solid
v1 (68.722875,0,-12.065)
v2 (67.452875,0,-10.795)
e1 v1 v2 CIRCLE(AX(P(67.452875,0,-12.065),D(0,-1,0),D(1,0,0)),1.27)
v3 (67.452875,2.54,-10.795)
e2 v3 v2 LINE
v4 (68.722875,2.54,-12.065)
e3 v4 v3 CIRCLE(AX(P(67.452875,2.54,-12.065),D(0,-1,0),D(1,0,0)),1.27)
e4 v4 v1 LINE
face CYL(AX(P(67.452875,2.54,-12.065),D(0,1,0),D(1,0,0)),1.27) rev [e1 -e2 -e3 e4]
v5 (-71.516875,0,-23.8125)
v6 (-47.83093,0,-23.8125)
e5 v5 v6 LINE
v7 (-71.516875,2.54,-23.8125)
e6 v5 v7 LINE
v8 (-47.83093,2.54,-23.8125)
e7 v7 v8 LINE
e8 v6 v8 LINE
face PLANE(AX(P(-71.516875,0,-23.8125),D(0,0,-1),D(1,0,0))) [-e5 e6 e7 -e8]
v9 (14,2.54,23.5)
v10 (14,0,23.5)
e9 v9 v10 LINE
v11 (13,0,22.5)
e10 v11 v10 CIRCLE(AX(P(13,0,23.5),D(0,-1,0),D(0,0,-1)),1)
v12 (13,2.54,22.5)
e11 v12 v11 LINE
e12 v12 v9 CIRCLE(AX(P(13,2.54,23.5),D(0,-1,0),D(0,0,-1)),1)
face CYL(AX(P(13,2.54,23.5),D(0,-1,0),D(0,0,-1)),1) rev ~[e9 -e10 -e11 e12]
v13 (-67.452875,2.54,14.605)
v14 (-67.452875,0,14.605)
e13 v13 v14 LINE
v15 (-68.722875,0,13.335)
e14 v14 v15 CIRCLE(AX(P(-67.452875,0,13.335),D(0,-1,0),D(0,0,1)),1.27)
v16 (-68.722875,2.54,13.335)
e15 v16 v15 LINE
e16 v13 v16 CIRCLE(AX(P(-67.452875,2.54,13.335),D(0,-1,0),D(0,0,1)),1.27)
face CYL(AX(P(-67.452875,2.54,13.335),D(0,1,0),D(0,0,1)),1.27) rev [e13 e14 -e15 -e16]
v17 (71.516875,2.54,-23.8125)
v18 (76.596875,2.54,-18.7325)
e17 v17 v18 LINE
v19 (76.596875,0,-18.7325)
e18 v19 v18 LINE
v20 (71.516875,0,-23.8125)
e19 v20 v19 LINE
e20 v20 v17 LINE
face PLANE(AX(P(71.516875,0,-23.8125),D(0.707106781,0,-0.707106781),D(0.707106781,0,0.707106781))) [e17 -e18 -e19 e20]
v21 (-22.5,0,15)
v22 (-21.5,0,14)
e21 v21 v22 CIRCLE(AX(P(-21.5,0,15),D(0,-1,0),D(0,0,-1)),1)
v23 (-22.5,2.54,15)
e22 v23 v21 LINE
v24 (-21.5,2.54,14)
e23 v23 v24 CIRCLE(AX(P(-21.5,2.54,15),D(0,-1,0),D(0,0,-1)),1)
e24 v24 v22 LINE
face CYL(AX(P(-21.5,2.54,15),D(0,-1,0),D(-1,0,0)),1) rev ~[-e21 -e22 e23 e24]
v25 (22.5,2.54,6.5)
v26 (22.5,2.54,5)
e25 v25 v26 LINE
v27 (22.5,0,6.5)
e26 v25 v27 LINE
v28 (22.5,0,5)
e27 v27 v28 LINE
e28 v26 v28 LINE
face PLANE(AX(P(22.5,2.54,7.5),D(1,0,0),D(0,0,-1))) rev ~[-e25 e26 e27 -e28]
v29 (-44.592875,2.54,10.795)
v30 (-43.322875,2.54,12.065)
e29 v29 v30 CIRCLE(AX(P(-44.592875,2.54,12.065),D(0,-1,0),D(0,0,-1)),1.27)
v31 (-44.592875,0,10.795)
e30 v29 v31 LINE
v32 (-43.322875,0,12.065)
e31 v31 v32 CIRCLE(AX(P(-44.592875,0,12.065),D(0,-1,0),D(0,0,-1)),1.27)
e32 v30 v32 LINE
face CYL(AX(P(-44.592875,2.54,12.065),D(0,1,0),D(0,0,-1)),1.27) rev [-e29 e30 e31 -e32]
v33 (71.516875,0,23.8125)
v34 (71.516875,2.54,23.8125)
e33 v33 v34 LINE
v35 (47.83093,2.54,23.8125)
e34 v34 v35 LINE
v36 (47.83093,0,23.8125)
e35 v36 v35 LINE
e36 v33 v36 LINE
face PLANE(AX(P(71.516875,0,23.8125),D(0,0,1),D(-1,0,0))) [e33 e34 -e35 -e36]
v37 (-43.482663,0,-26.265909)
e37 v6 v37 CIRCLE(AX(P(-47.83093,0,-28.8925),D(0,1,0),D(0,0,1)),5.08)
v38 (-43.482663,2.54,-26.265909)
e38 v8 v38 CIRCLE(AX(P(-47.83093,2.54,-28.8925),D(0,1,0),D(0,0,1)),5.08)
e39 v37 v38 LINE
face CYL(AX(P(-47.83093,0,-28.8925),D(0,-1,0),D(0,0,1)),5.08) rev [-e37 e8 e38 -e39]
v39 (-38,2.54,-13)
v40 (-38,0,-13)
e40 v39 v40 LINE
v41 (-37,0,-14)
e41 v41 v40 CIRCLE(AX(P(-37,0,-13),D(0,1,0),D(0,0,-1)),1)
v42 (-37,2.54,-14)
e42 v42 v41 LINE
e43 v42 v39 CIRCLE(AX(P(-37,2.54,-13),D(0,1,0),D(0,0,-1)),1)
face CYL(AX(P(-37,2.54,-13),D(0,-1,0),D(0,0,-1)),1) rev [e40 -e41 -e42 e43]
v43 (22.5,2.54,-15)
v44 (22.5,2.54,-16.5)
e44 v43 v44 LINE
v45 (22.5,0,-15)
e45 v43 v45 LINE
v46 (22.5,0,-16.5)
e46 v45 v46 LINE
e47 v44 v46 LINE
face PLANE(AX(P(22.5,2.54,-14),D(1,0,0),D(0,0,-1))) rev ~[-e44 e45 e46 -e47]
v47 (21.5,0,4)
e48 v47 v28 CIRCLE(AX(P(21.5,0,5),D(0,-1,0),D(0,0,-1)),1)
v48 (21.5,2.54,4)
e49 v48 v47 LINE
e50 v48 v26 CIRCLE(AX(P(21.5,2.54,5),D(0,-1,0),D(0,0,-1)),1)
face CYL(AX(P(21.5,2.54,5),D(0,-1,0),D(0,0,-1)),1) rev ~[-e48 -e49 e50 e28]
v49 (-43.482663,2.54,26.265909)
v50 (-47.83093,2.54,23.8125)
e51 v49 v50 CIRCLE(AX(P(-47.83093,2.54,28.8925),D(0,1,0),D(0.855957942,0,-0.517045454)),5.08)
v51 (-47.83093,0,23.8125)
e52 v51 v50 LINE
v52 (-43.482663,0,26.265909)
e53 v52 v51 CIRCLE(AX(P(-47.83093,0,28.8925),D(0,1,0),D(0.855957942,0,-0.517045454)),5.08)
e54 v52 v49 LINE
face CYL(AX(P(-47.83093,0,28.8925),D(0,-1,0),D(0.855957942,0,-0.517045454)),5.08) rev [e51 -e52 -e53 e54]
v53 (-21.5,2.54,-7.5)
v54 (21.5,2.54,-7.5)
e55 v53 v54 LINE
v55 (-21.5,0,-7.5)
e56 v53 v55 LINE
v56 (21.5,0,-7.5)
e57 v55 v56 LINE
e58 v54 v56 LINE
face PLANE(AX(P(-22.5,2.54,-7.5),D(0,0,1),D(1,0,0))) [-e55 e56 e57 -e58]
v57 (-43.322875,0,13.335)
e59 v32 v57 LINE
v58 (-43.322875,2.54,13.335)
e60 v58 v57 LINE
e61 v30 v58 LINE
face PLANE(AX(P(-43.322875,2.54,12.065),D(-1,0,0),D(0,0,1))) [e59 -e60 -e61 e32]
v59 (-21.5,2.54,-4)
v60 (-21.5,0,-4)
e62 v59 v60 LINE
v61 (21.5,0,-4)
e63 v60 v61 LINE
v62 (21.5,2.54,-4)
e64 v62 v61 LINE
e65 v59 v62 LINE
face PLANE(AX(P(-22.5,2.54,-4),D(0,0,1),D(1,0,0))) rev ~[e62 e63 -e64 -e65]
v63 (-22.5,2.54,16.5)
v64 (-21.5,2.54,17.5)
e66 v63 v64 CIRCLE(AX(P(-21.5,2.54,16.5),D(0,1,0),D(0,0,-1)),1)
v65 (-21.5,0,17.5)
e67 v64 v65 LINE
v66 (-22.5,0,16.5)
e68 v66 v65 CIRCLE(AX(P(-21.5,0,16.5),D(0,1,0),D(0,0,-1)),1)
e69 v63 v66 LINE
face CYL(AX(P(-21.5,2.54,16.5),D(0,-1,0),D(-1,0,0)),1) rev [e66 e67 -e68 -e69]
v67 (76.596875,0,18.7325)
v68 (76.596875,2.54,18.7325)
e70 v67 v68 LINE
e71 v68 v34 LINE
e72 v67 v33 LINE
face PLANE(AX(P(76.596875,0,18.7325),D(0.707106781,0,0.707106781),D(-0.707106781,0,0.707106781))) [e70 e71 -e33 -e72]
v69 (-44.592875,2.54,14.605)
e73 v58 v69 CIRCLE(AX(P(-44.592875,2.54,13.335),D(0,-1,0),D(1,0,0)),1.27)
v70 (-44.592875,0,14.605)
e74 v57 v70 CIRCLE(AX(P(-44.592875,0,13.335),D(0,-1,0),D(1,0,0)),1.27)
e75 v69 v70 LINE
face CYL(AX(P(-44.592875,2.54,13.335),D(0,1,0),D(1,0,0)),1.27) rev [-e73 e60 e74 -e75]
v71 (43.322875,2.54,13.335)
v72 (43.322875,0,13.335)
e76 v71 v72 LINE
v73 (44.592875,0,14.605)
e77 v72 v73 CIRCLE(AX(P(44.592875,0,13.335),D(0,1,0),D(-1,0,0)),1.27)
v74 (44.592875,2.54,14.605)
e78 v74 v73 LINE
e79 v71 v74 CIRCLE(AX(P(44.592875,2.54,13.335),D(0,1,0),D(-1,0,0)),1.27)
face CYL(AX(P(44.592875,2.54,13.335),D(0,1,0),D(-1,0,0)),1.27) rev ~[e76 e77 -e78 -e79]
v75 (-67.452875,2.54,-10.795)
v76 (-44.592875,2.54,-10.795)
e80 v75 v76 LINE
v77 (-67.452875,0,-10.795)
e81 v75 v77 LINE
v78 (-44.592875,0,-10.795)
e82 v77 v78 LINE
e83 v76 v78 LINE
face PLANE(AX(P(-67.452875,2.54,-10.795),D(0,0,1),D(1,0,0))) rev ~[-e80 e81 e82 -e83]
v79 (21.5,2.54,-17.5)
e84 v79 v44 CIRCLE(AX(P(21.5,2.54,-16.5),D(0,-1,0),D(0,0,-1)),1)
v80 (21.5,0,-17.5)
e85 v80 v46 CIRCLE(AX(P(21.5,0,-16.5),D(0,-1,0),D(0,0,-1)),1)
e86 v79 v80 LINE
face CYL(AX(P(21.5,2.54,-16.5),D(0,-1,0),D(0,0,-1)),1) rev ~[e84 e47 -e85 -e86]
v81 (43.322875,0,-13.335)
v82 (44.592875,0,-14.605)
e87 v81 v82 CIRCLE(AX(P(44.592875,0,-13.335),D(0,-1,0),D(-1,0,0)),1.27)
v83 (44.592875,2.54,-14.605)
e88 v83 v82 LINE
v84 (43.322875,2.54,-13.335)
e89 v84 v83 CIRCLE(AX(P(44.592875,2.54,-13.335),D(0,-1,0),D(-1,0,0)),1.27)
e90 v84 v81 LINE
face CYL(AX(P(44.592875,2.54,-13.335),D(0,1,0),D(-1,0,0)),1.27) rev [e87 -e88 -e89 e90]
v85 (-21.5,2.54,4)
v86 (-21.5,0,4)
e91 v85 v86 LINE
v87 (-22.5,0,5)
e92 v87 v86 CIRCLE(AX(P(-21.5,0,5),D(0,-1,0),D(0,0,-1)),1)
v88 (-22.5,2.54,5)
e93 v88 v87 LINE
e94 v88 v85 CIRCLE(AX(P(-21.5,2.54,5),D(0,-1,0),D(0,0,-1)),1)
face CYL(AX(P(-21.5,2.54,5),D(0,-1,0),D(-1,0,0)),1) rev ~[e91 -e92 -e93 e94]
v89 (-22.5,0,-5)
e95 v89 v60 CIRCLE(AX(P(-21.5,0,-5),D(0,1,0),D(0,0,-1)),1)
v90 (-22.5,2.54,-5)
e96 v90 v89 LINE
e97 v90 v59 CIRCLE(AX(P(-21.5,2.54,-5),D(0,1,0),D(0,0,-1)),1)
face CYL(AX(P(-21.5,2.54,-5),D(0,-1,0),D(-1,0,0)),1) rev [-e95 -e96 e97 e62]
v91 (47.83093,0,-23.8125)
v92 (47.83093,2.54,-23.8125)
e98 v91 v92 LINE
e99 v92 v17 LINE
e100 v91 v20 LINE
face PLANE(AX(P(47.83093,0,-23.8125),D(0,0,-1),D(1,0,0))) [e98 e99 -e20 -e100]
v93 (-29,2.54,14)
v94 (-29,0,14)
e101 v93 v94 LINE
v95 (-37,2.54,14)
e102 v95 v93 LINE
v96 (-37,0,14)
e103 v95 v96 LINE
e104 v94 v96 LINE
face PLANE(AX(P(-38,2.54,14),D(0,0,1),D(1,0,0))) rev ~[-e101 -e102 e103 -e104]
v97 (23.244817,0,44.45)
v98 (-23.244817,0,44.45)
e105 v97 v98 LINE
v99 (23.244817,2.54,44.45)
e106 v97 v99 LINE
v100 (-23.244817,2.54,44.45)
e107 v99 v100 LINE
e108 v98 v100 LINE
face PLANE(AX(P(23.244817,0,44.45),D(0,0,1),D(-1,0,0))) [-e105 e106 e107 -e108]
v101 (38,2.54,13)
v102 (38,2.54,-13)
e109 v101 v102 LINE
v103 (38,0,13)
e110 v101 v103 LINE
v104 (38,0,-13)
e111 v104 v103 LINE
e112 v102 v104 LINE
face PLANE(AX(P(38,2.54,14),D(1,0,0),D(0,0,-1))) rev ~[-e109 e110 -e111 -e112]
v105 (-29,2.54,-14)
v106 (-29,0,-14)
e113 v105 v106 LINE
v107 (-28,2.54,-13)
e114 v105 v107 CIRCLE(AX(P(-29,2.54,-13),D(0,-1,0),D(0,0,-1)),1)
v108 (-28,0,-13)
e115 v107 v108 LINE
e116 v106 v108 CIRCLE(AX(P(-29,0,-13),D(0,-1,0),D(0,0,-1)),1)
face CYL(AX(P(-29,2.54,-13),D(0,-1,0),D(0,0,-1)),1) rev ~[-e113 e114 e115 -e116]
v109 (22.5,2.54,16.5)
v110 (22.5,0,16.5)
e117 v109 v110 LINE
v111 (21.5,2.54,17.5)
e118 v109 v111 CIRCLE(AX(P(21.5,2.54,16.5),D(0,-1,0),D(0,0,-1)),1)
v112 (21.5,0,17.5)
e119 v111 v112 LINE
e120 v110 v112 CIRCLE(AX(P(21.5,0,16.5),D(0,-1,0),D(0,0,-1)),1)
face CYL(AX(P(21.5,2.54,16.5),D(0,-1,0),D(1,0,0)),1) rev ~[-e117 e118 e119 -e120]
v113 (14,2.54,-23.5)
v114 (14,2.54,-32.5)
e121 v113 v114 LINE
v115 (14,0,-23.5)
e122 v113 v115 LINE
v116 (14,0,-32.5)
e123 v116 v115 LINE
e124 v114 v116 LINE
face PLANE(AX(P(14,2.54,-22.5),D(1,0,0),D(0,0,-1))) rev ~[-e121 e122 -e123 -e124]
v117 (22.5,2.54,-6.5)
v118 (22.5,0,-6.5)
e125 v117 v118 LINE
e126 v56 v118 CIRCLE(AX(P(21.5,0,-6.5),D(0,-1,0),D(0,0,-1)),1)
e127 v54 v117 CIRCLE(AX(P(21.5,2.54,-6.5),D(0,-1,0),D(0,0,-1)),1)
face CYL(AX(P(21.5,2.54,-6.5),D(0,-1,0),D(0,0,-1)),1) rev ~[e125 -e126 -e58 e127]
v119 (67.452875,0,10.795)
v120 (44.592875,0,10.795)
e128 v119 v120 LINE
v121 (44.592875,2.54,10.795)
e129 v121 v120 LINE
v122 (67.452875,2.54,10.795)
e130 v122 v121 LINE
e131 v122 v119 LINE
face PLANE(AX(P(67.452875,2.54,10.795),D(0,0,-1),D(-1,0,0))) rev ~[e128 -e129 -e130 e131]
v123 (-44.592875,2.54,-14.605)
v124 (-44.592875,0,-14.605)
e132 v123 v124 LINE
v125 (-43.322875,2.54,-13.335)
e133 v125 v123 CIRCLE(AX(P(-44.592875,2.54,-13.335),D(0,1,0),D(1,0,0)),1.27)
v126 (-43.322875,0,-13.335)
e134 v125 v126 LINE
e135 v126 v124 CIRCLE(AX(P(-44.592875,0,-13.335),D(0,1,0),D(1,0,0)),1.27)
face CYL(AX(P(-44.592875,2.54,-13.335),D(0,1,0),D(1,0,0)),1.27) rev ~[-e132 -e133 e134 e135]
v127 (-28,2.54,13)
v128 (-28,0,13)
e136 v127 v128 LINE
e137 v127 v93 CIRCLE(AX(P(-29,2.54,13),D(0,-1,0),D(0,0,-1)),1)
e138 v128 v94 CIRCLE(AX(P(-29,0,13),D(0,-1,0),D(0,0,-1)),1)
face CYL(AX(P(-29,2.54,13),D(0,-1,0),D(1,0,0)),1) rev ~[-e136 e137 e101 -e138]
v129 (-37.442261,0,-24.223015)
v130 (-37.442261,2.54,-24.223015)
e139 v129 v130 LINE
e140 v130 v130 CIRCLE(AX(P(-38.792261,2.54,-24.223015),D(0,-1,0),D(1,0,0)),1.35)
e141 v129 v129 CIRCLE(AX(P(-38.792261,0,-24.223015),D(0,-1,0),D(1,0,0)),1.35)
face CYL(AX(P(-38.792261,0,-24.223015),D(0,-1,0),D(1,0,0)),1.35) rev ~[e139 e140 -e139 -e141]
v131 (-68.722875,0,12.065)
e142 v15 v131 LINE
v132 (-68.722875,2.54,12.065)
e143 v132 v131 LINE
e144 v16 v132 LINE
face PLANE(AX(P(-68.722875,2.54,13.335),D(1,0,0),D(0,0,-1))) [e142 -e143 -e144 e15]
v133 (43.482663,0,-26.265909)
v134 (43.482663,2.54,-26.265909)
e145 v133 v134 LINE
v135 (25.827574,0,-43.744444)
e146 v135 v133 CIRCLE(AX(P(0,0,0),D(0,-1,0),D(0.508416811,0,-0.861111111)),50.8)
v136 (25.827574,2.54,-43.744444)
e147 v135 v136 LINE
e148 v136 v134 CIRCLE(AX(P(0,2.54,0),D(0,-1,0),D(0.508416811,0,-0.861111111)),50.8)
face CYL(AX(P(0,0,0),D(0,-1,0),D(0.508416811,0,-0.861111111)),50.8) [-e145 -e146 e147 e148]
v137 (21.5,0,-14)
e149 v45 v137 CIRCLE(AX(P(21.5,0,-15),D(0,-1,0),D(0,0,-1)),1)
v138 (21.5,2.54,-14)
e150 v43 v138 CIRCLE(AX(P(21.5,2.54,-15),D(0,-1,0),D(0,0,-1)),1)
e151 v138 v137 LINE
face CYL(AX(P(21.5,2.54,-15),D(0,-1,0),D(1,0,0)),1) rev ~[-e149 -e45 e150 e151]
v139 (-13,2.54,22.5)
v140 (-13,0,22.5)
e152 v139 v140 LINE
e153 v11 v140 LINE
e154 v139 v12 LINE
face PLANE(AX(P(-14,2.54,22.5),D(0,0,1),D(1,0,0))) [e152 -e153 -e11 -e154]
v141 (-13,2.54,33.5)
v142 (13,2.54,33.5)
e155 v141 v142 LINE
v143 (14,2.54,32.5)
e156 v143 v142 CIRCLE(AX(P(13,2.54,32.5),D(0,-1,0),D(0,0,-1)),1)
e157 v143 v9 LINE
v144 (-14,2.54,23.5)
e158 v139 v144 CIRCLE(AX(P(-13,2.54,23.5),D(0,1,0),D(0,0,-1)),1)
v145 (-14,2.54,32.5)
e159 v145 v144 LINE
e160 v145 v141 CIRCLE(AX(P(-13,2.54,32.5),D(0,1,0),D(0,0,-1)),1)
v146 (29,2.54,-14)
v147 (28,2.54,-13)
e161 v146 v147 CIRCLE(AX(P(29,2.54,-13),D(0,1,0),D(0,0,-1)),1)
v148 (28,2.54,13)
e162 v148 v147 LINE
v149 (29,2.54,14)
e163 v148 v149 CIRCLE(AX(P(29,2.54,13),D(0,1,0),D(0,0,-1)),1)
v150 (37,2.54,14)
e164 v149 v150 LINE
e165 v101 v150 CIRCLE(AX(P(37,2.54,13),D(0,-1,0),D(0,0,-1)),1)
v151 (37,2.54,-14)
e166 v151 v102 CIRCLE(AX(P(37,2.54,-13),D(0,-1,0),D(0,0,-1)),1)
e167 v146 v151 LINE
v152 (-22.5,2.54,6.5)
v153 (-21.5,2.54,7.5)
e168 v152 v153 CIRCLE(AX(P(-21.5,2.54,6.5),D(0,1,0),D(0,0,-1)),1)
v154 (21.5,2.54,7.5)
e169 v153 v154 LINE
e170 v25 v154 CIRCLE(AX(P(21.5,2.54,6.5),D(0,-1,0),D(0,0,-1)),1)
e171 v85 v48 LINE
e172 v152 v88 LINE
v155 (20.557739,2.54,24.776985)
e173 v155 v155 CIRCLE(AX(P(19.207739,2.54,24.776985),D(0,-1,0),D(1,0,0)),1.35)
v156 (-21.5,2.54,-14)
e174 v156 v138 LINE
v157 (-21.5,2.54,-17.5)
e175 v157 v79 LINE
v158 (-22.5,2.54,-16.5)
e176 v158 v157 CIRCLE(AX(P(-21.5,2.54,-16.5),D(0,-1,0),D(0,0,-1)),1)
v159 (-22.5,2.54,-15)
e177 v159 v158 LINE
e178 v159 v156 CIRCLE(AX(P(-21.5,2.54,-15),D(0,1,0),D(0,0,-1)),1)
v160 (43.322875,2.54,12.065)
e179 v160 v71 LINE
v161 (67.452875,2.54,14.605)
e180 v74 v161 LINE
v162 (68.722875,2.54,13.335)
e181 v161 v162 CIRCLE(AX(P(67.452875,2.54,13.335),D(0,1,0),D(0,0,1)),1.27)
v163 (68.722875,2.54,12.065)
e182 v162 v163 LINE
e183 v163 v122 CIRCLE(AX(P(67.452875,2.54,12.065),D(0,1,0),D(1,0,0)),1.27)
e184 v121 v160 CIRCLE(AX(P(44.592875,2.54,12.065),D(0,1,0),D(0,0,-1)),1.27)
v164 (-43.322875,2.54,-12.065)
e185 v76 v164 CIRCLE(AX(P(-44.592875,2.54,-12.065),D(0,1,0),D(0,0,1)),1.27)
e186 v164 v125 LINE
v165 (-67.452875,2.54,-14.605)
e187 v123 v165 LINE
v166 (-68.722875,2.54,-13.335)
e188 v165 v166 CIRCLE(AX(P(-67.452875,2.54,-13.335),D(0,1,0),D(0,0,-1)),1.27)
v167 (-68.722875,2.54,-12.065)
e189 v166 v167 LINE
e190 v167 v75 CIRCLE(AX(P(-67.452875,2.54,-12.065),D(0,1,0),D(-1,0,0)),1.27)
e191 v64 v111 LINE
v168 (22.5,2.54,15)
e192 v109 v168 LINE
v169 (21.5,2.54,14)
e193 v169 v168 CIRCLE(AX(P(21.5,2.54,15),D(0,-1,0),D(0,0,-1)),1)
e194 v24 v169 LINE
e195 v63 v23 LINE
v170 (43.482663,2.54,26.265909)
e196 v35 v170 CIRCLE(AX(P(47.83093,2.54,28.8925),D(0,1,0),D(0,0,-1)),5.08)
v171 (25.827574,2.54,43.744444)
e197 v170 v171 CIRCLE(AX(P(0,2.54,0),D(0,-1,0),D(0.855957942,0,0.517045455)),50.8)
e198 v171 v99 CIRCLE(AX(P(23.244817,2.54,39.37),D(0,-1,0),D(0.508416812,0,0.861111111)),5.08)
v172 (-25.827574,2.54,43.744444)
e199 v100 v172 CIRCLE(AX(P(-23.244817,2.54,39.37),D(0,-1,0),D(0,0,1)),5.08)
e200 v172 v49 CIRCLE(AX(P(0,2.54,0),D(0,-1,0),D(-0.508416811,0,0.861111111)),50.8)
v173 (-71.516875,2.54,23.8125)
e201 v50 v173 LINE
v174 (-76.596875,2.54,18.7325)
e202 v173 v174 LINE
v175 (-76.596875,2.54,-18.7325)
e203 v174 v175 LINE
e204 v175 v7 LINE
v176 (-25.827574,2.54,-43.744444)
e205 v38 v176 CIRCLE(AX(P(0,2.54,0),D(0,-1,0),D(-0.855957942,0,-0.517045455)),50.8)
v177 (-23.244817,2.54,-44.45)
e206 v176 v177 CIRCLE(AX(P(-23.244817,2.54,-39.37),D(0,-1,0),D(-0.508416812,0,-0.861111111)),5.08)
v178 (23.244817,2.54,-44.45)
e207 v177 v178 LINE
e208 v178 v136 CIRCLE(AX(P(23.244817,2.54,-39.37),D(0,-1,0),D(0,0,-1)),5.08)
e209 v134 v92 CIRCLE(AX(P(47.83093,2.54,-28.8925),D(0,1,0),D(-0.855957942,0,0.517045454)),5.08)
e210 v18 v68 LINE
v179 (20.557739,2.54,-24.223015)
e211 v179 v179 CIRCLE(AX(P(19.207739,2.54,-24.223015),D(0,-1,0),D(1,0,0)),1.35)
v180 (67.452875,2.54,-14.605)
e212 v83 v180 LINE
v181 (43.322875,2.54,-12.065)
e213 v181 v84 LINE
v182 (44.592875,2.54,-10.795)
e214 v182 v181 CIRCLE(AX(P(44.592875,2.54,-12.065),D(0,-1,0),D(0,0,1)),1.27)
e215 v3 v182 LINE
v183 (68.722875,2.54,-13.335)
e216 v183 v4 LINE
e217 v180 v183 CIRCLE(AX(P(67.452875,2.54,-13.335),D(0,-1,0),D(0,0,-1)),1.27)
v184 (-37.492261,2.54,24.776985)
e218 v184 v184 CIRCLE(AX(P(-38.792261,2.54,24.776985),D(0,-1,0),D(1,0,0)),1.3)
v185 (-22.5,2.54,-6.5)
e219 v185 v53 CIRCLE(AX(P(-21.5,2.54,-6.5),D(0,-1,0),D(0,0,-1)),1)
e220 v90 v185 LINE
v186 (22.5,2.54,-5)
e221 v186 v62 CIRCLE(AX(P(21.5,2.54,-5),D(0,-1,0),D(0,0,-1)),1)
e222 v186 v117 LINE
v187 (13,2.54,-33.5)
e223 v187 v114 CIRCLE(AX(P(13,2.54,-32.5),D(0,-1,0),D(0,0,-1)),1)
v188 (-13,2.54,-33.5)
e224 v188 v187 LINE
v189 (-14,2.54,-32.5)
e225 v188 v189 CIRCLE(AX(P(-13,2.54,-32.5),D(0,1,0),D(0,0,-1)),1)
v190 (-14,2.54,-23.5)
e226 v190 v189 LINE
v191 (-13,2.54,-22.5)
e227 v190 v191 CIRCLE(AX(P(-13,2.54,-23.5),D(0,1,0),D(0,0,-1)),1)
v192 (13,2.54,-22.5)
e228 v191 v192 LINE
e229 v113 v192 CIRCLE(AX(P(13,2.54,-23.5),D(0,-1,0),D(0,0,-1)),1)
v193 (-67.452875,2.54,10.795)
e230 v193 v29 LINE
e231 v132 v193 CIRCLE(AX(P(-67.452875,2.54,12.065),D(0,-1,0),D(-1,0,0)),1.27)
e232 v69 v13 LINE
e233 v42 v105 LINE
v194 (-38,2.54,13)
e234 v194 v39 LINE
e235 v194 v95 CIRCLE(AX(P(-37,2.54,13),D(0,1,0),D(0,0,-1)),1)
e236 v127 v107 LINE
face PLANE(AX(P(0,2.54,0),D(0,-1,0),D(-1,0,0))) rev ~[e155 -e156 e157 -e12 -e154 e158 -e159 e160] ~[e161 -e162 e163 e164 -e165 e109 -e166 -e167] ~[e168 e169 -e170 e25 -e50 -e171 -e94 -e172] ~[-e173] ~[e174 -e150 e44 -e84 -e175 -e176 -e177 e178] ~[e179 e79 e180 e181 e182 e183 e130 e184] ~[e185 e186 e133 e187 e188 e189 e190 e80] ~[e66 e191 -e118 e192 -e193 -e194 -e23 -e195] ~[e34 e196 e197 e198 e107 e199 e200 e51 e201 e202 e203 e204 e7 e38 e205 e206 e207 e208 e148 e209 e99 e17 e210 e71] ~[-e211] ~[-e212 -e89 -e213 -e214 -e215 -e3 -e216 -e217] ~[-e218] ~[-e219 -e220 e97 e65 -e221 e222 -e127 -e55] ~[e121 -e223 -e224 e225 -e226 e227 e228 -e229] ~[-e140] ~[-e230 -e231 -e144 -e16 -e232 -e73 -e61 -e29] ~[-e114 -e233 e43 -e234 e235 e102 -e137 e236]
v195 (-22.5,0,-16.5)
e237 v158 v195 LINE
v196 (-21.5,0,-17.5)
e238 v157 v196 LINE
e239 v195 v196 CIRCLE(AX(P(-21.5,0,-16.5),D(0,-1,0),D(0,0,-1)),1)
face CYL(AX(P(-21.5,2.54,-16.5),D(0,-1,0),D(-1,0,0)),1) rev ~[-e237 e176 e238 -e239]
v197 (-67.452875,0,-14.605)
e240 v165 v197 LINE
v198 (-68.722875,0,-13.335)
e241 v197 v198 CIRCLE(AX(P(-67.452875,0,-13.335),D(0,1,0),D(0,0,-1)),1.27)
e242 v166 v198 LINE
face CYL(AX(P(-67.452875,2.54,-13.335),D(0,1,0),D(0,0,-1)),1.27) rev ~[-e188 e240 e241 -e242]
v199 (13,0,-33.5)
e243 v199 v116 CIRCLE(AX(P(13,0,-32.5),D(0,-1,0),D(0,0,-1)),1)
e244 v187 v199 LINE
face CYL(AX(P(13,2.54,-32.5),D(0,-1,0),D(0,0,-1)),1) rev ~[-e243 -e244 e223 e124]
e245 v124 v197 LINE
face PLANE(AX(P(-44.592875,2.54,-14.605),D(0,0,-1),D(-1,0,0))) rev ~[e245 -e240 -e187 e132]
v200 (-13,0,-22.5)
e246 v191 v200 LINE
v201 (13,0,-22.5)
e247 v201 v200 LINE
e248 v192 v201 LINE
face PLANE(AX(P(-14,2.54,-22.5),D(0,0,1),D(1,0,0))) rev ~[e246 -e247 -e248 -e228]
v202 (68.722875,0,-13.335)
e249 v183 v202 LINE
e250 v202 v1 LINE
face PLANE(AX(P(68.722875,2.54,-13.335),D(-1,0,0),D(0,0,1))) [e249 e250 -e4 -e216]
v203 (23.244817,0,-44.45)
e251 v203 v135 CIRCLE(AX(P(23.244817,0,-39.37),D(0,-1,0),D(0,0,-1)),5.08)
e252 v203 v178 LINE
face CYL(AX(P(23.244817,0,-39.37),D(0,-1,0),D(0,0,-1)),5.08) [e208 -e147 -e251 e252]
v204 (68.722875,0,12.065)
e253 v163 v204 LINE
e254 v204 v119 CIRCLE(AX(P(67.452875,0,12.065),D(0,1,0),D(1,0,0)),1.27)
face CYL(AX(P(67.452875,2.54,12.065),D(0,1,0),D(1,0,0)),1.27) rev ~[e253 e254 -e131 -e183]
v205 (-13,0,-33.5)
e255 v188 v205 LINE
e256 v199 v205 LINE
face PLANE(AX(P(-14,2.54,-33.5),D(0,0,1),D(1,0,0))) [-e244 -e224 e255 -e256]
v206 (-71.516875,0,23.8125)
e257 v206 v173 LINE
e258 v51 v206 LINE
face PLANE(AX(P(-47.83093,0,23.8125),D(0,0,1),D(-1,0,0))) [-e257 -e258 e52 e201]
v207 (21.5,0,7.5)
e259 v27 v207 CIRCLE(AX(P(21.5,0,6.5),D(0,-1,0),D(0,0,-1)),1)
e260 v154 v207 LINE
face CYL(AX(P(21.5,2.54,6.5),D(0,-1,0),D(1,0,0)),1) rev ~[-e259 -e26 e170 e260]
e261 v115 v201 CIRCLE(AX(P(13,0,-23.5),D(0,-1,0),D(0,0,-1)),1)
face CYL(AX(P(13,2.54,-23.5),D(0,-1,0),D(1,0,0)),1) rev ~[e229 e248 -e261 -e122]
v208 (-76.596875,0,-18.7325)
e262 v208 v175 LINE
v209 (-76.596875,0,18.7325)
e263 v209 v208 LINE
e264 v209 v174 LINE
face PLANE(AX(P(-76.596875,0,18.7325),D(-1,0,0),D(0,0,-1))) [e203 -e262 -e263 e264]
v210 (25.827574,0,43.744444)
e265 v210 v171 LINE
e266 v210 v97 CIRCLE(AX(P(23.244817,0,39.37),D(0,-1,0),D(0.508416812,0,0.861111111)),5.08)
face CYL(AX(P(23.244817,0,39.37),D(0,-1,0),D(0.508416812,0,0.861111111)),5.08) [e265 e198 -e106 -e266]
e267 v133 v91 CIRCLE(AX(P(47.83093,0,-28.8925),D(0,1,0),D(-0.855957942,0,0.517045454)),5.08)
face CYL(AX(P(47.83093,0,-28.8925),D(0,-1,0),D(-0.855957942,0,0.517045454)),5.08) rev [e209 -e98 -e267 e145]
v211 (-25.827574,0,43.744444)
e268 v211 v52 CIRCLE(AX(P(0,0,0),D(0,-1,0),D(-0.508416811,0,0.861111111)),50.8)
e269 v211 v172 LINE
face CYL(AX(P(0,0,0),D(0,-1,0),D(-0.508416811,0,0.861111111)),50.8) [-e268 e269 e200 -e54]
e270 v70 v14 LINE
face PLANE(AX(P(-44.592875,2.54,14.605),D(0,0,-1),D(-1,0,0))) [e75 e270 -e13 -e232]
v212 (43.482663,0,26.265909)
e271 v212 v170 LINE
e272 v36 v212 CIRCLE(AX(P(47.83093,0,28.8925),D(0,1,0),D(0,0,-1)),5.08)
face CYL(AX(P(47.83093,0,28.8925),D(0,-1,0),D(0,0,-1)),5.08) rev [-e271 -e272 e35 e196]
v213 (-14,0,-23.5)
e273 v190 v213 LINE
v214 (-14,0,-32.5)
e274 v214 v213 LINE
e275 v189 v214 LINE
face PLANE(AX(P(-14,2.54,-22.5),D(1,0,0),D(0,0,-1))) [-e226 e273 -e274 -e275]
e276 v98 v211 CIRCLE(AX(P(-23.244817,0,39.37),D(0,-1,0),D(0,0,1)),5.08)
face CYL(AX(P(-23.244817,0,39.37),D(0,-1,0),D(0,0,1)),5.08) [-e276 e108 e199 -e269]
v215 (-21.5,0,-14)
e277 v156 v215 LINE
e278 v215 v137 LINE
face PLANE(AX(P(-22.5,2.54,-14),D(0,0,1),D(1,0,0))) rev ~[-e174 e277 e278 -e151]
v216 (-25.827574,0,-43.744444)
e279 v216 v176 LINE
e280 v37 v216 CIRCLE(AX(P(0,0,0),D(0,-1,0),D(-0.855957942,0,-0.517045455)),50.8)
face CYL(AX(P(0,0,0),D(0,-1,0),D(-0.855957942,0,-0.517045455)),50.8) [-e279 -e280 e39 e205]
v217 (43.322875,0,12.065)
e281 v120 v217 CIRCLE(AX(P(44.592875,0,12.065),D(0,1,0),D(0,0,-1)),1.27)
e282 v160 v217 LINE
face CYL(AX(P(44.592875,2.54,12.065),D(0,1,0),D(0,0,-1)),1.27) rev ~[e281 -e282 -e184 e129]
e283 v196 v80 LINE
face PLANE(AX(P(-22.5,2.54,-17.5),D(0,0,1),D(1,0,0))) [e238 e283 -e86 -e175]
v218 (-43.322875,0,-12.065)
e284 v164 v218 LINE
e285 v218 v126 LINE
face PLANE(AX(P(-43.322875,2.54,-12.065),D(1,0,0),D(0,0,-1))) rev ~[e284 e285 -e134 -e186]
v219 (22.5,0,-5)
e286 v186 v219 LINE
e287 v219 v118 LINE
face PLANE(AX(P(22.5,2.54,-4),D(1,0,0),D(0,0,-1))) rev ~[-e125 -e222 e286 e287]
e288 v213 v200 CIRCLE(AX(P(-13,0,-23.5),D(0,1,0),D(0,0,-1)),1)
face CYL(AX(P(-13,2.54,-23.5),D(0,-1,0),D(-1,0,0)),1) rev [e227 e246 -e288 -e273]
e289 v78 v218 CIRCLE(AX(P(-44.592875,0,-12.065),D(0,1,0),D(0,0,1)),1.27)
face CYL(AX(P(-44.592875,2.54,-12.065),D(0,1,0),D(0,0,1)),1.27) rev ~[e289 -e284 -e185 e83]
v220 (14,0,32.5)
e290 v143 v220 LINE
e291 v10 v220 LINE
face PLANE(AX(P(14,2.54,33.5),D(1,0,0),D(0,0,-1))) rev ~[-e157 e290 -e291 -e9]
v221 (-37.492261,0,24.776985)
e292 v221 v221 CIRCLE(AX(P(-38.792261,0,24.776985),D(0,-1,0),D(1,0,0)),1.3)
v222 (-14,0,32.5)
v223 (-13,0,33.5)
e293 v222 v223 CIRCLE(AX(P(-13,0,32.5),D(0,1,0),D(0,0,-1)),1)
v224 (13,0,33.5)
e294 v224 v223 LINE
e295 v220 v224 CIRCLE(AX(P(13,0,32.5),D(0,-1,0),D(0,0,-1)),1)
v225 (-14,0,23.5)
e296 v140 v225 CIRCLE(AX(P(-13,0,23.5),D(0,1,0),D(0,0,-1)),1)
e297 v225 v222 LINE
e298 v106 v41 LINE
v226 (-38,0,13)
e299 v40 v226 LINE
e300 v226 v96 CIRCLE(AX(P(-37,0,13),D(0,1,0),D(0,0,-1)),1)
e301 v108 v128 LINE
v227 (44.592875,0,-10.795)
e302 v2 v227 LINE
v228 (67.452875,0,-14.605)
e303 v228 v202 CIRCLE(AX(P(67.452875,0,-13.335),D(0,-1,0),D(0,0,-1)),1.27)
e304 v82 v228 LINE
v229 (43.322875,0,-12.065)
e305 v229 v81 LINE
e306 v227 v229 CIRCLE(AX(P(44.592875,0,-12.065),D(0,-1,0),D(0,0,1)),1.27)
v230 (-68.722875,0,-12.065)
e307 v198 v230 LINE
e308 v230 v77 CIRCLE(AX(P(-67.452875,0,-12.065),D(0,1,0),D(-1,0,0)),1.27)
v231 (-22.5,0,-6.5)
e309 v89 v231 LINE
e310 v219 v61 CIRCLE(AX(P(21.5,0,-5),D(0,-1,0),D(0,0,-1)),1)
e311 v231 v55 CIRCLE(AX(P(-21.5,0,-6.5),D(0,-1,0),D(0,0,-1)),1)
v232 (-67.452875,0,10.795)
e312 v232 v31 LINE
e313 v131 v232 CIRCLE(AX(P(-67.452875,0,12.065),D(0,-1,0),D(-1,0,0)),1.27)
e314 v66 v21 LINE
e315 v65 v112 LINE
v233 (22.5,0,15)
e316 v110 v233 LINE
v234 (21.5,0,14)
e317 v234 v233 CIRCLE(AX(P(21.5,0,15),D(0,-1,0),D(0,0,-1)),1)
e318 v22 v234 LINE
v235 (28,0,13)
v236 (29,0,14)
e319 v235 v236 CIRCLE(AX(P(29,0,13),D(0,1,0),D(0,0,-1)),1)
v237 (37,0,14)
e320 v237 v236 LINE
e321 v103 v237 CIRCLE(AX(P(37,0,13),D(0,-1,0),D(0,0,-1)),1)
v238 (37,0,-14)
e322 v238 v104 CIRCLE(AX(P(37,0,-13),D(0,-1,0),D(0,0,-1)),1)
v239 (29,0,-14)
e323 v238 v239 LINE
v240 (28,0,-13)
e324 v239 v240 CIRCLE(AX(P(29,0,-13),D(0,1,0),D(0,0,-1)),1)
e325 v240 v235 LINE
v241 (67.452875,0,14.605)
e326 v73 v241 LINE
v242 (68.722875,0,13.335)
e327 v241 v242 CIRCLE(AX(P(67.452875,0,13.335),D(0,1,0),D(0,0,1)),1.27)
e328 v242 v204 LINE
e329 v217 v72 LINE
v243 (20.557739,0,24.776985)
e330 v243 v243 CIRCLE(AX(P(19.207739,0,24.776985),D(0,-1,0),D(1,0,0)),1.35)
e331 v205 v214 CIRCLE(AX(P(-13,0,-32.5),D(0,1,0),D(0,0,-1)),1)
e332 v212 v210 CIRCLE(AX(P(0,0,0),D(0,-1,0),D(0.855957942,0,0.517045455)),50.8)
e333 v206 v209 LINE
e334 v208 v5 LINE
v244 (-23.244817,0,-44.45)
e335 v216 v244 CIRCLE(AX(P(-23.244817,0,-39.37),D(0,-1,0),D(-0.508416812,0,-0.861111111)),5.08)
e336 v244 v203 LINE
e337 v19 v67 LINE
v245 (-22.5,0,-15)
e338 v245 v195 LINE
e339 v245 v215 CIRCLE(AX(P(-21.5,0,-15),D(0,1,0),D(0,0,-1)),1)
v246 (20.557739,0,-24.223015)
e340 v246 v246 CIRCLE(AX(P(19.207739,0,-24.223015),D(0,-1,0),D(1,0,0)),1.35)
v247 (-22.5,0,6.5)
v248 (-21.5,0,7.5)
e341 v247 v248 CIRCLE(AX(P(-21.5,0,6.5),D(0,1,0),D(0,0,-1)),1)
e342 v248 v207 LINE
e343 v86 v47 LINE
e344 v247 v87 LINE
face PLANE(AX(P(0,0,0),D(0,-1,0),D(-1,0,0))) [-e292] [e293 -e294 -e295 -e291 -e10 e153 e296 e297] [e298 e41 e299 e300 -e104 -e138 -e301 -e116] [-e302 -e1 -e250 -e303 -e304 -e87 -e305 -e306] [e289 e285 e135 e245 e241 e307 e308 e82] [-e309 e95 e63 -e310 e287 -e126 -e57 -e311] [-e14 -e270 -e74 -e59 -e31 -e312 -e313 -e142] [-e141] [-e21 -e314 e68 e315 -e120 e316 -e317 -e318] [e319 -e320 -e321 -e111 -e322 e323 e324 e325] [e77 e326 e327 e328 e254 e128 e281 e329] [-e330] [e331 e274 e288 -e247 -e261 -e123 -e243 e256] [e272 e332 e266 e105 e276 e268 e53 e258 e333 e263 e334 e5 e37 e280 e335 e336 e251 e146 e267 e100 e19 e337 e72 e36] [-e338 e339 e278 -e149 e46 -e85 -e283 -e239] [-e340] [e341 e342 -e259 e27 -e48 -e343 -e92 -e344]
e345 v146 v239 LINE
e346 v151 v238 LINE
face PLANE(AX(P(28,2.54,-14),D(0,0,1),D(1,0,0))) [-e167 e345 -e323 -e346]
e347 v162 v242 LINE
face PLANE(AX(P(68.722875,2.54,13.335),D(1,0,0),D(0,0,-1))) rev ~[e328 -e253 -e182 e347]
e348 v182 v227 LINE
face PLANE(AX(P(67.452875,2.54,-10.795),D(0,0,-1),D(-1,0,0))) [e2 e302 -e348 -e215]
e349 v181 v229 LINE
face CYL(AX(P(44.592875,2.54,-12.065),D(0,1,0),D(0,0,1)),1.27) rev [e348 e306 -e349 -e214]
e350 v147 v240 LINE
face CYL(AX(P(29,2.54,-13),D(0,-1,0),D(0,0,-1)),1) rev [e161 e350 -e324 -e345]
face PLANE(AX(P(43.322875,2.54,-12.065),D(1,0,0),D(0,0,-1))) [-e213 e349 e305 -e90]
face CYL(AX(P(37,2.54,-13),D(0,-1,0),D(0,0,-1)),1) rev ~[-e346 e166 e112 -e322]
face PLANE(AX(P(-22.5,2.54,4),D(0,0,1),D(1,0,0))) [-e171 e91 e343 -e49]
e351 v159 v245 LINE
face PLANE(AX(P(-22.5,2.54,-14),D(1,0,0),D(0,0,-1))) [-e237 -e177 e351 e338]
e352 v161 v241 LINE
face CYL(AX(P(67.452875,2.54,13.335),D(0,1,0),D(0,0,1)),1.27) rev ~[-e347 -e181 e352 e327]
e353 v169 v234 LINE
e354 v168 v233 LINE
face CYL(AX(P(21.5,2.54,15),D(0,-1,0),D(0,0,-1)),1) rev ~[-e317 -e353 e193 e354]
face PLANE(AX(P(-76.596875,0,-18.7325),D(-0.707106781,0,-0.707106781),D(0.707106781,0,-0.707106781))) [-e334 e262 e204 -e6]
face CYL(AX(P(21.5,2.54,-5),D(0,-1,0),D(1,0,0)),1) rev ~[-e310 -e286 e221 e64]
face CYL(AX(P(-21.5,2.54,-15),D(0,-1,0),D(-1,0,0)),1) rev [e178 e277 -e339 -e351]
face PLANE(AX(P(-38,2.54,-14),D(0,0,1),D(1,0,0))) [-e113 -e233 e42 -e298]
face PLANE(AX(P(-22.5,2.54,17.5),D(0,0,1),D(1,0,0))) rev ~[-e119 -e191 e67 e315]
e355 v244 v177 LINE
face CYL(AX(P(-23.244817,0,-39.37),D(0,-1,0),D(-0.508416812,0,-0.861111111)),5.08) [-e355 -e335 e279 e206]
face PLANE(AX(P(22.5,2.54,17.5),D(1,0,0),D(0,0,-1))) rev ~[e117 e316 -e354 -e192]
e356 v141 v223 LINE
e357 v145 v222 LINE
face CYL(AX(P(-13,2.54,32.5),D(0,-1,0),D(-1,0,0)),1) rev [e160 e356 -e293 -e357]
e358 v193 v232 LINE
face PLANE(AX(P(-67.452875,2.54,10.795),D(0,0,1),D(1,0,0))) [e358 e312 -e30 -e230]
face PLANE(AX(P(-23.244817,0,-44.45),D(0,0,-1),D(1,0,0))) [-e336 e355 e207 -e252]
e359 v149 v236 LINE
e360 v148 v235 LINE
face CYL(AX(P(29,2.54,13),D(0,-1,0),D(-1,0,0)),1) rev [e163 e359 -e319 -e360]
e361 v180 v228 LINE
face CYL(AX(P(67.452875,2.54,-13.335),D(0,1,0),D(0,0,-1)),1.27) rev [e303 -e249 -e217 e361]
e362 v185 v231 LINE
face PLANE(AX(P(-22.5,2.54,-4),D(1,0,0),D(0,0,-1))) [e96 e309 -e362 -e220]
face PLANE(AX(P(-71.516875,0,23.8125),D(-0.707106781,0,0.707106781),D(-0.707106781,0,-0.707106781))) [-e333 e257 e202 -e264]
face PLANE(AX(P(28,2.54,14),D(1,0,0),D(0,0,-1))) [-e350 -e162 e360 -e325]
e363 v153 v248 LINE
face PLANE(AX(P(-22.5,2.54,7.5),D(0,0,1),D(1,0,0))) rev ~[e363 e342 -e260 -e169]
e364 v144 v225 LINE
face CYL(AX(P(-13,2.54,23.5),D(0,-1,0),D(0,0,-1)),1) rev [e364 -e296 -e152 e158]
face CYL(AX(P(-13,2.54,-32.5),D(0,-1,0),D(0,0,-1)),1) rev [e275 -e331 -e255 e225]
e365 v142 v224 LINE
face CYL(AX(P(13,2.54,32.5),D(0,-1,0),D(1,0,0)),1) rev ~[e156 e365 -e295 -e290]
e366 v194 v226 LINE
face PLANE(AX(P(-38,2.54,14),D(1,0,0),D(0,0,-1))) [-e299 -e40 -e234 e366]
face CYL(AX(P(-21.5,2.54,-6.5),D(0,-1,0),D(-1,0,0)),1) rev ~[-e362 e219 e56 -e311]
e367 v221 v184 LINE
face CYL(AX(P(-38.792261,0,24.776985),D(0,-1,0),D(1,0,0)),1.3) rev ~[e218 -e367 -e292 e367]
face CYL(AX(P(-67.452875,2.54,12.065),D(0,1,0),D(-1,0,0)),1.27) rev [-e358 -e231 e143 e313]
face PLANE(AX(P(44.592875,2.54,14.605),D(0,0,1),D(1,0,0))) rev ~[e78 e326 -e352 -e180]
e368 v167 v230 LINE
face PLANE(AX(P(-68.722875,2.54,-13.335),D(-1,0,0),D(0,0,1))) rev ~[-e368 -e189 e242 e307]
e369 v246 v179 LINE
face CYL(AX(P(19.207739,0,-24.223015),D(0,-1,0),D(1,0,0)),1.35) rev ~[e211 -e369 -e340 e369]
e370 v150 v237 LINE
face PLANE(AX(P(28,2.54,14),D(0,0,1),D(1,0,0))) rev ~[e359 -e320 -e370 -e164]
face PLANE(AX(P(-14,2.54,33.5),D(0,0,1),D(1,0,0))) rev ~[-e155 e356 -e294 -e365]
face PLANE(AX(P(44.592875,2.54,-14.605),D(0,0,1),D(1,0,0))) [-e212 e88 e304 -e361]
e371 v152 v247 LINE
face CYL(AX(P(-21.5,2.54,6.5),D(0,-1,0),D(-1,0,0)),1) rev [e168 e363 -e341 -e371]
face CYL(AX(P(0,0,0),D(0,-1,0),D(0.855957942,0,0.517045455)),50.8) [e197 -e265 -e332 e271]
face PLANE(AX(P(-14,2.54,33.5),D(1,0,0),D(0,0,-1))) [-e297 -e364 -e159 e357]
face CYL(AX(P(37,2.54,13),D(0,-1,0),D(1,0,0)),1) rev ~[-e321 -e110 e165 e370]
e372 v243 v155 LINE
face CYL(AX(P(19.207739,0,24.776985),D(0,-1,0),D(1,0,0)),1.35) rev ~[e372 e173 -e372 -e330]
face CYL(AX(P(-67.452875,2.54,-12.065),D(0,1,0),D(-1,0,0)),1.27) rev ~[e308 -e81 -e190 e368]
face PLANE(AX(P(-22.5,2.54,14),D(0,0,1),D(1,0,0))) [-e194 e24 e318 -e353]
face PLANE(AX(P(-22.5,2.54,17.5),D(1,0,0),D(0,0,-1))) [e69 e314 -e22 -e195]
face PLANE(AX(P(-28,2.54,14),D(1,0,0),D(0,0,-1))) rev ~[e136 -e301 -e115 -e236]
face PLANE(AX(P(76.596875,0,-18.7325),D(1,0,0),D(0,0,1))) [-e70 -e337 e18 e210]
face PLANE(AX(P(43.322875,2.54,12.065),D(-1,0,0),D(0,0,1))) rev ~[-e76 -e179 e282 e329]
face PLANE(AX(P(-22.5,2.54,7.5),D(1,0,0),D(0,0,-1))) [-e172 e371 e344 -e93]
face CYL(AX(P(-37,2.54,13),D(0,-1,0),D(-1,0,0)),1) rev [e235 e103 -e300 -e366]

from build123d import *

# Parameters (mm, degrees)
BOSS_EXTRUDE1_DEPTH = 2.54
SKETCH3_W           = 28
SKETCH3_H           = 11
SKETCH3_W_2         = 10
SKETCH3_H_2         = 28
CUT_EXTRUDE_1_DEPTH = 10
CUT_EXTRUDE2_DEPTH  = 2.54
SKETCH_1_W          = 45
SKETCH_1_H          = 3.5
CUT_EXTRUDE_2_DEPTH = 2.54
FILLET_1_R          = 1
SKETCH_2_R          = 1.35
SKETCH_2_R_2        = 1.3
CUT_EXTRUDE_5_DEPTH = 2.54


with BuildPart() as part:
    # Sketch1 → Boss-Extrude1 (new body)
    with BuildSketch(Plane(origin=(0, 0, 0), x_dir=(1, 0, 0), z_dir=(0, 1, 0))):
        with BuildLine():
            Line((-23.244816627, 44.45), (23.244816627, 44.45))
            ThreePointArc((23.244816627, 44.45), (24.583514169, 44.270437622), (25.827574029, 43.744444444))
            ThreePointArc((25.827574029, 43.744444444), (35.740062311, 36.101079569), (43.482663438, 26.265909091))
            ThreePointArc((43.482663438, 26.265909091), (45.334600658, 24.468164919), (47.830929781, 23.8125))
            Line((47.830929781, 23.8125), (71.516875, 23.8125))
            Line((71.516875, 23.8125), (76.596875, 18.7325))
            Line((76.596875, 18.7325), (76.596875, -18.7325))
            Line((76.596875, -18.7325), (71.516875, -23.8125))
            Line((71.516875, -23.8125), (47.830929781, -23.8125))
            ThreePointArc((47.830929781, -23.8125), (45.334600658, -24.468164919), (43.482663438, -26.265909091))
            ThreePointArc((43.482663438, -26.265909091), (35.740062311, -36.101079569), (25.827574029, -43.744444444))
            ThreePointArc((25.827574029, -43.744444444), (24.583514169, -44.270437622), (23.244816627, -44.45))
            Line((23.244816627, -44.45), (-23.244816627, -44.45))
            ThreePointArc((-23.244816627, -44.45), (-24.583514169, -44.270437622), (-25.827574029, -43.744444444))
            ThreePointArc((-25.827574029, -43.744444444), (-35.740062311, -36.101079569), (-43.482663438, -26.265909091))
            ThreePointArc((-43.482663438, -26.265909091), (-45.334600658, -24.468164919), (-47.830929781, -23.8125))
            Line((-47.830929781, -23.8125), (-71.516875, -23.8125))
            Line((-71.516875, -23.8125), (-76.596875, -18.7325))
            Line((-76.596875, -18.7325), (-76.596875, 18.7325))
            Line((-76.596875, 18.7325), (-71.516875, 23.8125))
            Line((-71.516875, 23.8125), (-47.830929781, 23.8125))
            ThreePointArc((-47.830929781, 23.8125), (-45.334600658, 24.468164919), (-43.482663438, 26.265909091))
            ThreePointArc((-43.482663438, 26.265909091), (-35.740062311, 36.101079569), (-25.827574029, 43.744444444))
            ThreePointArc((-25.827574029, 43.744444444), (-24.583514169, 44.270437622), (-23.244816627, 44.45))
        make_face()
    extrude(amount=BOSS_EXTRUDE1_DEPTH)

    # Sketch3 → 切除-拉伸1 (cut)
    with BuildSketch(Plane(origin=(0, 2.54, 0), x_dir=(1, 0, 0), z_dir=(0, 1, 0))):
        with Locations((0, 28)):
            Rectangle(SKETCH3_W, SKETCH3_H)
        with Locations((0, -28)):
            Rectangle(SKETCH3_W, SKETCH3_H)
        with Locations((-33, 0)):
            Rectangle(SKETCH3_W_2, SKETCH3_H_2)
        with Locations((33, 0)):
            Rectangle(SKETCH3_W_2, SKETCH3_H_2)
    extrude(amount=-CUT_EXTRUDE_1_DEPTH, mode=Mode.SUBTRACT)

    # Sketch4 → Cut-Extrude2 (cut)
    with BuildSketch(Plane(origin=(0, 2.54, 0), x_dir=(1, 0, 0), z_dir=(0, 1, 0))):
        with BuildLine():
            Line((44.592875, 14.605), (67.452875, 14.605))
            ThreePointArc((67.452875, 14.605), (68.350900612, 14.233025612), (68.722875, 13.335))
            Line((68.722875, 13.335), (68.722875, 12.065))
            ThreePointArc((68.722875, 12.065), (68.350900612, 11.166974388), (67.452875, 10.795))
            Line((67.452875, 10.795), (44.592875, 10.795))
            ThreePointArc((44.592875, 10.795), (43.694849388, 11.166974388), (43.322875, 12.065))
            Line((43.322875, 12.065), (43.322875, 13.335))
            ThreePointArc((43.322875, 13.335), (43.694849388, 14.233025612), (44.592875, 14.605))
        make_face()
        with BuildLine():
            Line((68.722875, -13.335), (68.722875, -12.065))
            ThreePointArc((68.722875, -12.065), (68.350900612, -11.166974388), (67.452875, -10.795))
            Line((67.452875, -10.795), (44.592875, -10.795))
            ThreePointArc((44.592875, -10.795), (43.694849388, -11.166974388), (43.322875, -12.065))
            Line((43.322875, -12.065), (43.322875, -13.335))
            ThreePointArc((43.322875, -13.335), (43.694849388, -14.233025612), (44.592875, -14.605))
            Line((44.592875, -14.605), (67.452875, -14.605))
            ThreePointArc((67.452875, -14.605), (68.350900612, -14.233025612), (68.722875, -13.335))
        make_face()
        with BuildLine():
            Line((-44.592875, -14.605), (-67.452875, -14.605))
            ThreePointArc((-67.452875, -14.605), (-68.350900612, -14.233025612), (-68.722875, -13.335))
            Line((-68.722875, -13.335), (-68.722875, -12.065))
            ThreePointArc((-68.722875, -12.065), (-68.350900612, -11.166974388), (-67.452875, -10.795))
            Line((-67.452875, -10.795), (-44.592875, -10.795))
            ThreePointArc((-44.592875, -10.795), (-43.694849388, -11.166974388), (-43.322875, -12.065))
            Line((-43.322875, -12.065), (-43.322875, -13.335))
            ThreePointArc((-43.322875, -13.335), (-43.694849388, -14.233025612), (-44.592875, -14.605))
        make_face()
        with BuildLine():
            Line((-68.722875, 13.335), (-68.722875, 12.065))
            ThreePointArc((-68.722875, 12.065), (-68.350900612, 11.166974388), (-67.452875, 10.795))
            Line((-67.452875, 10.795), (-44.592875, 10.795))
            ThreePointArc((-44.592875, 10.795), (-43.694849388, 11.166974388), (-43.322875, 12.065))
            Line((-43.322875, 12.065), (-43.322875, 13.335))
            ThreePointArc((-43.322875, 13.335), (-43.694849388, 14.233025612), (-44.592875, 14.605))
            Line((-44.592875, 14.605), (-67.452875, 14.605))
            ThreePointArc((-67.452875, 14.605), (-68.350900612, 14.233025612), (-68.722875, 13.335))
        make_face()
    extrude(amount=-CUT_EXTRUDE2_DEPTH, mode=Mode.SUBTRACT)

    # 草图1 → 切除-拉伸2 (cut)
    with BuildSketch(Plane(origin=(0, 2.54, 0), x_dir=(1, 0, 0), z_dir=(0, 1, 0))):
        with Locations((0, 5.75)):
            Rectangle(SKETCH_1_W, SKETCH_1_H)
        with Locations((0, 15.75)):
            Rectangle(SKETCH_1_W, SKETCH_1_H)
        with Locations((0, -5.75)):
            Rectangle(SKETCH_1_W, SKETCH_1_H)
        with Locations((0, -15.75)):
            Rectangle(SKETCH_1_W, SKETCH_1_H)
    extrude(amount=-CUT_EXTRUDE_2_DEPTH, mode=Mode.SUBTRACT)

    # 圆角1
    fillet_1_edges = [part.edges().sort_by_distance(p)[0] for p in [
        (-28, 1.27, -14),
        (-28, 1.27, 14),
        (-38, 1.27, 14),
        (-38, 1.27, -14),
        (38, 1.27, 14),
        (28, 1.27, 14),
        (28, 1.27, -14),
        (38, 1.27, -14),
        (22.5, 1.27, 17.5),
        (22.5, 1.27, 14),
        (-22.5, 1.27, 14),
        (-22.5, 1.27, 17.5),
        (22.5, 1.27, -17.5),
        (-22.5, 1.27, -17.5),
        (-22.5, 1.27, -14),
        (22.5, 1.27, -14),
        (22.5, 1.27, 7.5),
        (22.5, 1.27, 4),
        (-22.5, 1.27, 4),
        (-22.5, 1.27, 7.5),
        (-22.5, 1.27, -7.5),
        (-22.5, 1.27, -4),
        (22.5, 1.27, -4),
        (22.5, 1.27, -7.5),
        (14, 1.27, -33.5),
        (14, 1.27, -22.5),
        (-14, 1.27, -22.5),
        (-14, 1.27, -33.5),
        (14, 1.27, 33.5),
        (-14, 1.27, 33.5),
        (-14, 1.27, 22.5),
        (14, 1.27, 22.5),
    ]]
    fillet(fillet_1_edges, radius=FILLET_1_R)

    # 草图2 → 切除-拉伸5 (cut)
    with BuildSketch(Plane.XZ):
        with Locations((19.207738721, -24.223015039)):
            Circle(SKETCH_2_R)
        with Locations((19.207738721, 24.776984961)):
            Circle(SKETCH_2_R)
        with Locations((-38.792261279, -24.223015039)):
            Circle(SKETCH_2_R)
        with Locations((-38.792261279, 24.776984961)):
            Circle(SKETCH_2_R_2)
    extrude(amount=-CUT_EXTRUDE_5_DEPTH, mode=Mode.SUBTRACT)


solid = part.part
